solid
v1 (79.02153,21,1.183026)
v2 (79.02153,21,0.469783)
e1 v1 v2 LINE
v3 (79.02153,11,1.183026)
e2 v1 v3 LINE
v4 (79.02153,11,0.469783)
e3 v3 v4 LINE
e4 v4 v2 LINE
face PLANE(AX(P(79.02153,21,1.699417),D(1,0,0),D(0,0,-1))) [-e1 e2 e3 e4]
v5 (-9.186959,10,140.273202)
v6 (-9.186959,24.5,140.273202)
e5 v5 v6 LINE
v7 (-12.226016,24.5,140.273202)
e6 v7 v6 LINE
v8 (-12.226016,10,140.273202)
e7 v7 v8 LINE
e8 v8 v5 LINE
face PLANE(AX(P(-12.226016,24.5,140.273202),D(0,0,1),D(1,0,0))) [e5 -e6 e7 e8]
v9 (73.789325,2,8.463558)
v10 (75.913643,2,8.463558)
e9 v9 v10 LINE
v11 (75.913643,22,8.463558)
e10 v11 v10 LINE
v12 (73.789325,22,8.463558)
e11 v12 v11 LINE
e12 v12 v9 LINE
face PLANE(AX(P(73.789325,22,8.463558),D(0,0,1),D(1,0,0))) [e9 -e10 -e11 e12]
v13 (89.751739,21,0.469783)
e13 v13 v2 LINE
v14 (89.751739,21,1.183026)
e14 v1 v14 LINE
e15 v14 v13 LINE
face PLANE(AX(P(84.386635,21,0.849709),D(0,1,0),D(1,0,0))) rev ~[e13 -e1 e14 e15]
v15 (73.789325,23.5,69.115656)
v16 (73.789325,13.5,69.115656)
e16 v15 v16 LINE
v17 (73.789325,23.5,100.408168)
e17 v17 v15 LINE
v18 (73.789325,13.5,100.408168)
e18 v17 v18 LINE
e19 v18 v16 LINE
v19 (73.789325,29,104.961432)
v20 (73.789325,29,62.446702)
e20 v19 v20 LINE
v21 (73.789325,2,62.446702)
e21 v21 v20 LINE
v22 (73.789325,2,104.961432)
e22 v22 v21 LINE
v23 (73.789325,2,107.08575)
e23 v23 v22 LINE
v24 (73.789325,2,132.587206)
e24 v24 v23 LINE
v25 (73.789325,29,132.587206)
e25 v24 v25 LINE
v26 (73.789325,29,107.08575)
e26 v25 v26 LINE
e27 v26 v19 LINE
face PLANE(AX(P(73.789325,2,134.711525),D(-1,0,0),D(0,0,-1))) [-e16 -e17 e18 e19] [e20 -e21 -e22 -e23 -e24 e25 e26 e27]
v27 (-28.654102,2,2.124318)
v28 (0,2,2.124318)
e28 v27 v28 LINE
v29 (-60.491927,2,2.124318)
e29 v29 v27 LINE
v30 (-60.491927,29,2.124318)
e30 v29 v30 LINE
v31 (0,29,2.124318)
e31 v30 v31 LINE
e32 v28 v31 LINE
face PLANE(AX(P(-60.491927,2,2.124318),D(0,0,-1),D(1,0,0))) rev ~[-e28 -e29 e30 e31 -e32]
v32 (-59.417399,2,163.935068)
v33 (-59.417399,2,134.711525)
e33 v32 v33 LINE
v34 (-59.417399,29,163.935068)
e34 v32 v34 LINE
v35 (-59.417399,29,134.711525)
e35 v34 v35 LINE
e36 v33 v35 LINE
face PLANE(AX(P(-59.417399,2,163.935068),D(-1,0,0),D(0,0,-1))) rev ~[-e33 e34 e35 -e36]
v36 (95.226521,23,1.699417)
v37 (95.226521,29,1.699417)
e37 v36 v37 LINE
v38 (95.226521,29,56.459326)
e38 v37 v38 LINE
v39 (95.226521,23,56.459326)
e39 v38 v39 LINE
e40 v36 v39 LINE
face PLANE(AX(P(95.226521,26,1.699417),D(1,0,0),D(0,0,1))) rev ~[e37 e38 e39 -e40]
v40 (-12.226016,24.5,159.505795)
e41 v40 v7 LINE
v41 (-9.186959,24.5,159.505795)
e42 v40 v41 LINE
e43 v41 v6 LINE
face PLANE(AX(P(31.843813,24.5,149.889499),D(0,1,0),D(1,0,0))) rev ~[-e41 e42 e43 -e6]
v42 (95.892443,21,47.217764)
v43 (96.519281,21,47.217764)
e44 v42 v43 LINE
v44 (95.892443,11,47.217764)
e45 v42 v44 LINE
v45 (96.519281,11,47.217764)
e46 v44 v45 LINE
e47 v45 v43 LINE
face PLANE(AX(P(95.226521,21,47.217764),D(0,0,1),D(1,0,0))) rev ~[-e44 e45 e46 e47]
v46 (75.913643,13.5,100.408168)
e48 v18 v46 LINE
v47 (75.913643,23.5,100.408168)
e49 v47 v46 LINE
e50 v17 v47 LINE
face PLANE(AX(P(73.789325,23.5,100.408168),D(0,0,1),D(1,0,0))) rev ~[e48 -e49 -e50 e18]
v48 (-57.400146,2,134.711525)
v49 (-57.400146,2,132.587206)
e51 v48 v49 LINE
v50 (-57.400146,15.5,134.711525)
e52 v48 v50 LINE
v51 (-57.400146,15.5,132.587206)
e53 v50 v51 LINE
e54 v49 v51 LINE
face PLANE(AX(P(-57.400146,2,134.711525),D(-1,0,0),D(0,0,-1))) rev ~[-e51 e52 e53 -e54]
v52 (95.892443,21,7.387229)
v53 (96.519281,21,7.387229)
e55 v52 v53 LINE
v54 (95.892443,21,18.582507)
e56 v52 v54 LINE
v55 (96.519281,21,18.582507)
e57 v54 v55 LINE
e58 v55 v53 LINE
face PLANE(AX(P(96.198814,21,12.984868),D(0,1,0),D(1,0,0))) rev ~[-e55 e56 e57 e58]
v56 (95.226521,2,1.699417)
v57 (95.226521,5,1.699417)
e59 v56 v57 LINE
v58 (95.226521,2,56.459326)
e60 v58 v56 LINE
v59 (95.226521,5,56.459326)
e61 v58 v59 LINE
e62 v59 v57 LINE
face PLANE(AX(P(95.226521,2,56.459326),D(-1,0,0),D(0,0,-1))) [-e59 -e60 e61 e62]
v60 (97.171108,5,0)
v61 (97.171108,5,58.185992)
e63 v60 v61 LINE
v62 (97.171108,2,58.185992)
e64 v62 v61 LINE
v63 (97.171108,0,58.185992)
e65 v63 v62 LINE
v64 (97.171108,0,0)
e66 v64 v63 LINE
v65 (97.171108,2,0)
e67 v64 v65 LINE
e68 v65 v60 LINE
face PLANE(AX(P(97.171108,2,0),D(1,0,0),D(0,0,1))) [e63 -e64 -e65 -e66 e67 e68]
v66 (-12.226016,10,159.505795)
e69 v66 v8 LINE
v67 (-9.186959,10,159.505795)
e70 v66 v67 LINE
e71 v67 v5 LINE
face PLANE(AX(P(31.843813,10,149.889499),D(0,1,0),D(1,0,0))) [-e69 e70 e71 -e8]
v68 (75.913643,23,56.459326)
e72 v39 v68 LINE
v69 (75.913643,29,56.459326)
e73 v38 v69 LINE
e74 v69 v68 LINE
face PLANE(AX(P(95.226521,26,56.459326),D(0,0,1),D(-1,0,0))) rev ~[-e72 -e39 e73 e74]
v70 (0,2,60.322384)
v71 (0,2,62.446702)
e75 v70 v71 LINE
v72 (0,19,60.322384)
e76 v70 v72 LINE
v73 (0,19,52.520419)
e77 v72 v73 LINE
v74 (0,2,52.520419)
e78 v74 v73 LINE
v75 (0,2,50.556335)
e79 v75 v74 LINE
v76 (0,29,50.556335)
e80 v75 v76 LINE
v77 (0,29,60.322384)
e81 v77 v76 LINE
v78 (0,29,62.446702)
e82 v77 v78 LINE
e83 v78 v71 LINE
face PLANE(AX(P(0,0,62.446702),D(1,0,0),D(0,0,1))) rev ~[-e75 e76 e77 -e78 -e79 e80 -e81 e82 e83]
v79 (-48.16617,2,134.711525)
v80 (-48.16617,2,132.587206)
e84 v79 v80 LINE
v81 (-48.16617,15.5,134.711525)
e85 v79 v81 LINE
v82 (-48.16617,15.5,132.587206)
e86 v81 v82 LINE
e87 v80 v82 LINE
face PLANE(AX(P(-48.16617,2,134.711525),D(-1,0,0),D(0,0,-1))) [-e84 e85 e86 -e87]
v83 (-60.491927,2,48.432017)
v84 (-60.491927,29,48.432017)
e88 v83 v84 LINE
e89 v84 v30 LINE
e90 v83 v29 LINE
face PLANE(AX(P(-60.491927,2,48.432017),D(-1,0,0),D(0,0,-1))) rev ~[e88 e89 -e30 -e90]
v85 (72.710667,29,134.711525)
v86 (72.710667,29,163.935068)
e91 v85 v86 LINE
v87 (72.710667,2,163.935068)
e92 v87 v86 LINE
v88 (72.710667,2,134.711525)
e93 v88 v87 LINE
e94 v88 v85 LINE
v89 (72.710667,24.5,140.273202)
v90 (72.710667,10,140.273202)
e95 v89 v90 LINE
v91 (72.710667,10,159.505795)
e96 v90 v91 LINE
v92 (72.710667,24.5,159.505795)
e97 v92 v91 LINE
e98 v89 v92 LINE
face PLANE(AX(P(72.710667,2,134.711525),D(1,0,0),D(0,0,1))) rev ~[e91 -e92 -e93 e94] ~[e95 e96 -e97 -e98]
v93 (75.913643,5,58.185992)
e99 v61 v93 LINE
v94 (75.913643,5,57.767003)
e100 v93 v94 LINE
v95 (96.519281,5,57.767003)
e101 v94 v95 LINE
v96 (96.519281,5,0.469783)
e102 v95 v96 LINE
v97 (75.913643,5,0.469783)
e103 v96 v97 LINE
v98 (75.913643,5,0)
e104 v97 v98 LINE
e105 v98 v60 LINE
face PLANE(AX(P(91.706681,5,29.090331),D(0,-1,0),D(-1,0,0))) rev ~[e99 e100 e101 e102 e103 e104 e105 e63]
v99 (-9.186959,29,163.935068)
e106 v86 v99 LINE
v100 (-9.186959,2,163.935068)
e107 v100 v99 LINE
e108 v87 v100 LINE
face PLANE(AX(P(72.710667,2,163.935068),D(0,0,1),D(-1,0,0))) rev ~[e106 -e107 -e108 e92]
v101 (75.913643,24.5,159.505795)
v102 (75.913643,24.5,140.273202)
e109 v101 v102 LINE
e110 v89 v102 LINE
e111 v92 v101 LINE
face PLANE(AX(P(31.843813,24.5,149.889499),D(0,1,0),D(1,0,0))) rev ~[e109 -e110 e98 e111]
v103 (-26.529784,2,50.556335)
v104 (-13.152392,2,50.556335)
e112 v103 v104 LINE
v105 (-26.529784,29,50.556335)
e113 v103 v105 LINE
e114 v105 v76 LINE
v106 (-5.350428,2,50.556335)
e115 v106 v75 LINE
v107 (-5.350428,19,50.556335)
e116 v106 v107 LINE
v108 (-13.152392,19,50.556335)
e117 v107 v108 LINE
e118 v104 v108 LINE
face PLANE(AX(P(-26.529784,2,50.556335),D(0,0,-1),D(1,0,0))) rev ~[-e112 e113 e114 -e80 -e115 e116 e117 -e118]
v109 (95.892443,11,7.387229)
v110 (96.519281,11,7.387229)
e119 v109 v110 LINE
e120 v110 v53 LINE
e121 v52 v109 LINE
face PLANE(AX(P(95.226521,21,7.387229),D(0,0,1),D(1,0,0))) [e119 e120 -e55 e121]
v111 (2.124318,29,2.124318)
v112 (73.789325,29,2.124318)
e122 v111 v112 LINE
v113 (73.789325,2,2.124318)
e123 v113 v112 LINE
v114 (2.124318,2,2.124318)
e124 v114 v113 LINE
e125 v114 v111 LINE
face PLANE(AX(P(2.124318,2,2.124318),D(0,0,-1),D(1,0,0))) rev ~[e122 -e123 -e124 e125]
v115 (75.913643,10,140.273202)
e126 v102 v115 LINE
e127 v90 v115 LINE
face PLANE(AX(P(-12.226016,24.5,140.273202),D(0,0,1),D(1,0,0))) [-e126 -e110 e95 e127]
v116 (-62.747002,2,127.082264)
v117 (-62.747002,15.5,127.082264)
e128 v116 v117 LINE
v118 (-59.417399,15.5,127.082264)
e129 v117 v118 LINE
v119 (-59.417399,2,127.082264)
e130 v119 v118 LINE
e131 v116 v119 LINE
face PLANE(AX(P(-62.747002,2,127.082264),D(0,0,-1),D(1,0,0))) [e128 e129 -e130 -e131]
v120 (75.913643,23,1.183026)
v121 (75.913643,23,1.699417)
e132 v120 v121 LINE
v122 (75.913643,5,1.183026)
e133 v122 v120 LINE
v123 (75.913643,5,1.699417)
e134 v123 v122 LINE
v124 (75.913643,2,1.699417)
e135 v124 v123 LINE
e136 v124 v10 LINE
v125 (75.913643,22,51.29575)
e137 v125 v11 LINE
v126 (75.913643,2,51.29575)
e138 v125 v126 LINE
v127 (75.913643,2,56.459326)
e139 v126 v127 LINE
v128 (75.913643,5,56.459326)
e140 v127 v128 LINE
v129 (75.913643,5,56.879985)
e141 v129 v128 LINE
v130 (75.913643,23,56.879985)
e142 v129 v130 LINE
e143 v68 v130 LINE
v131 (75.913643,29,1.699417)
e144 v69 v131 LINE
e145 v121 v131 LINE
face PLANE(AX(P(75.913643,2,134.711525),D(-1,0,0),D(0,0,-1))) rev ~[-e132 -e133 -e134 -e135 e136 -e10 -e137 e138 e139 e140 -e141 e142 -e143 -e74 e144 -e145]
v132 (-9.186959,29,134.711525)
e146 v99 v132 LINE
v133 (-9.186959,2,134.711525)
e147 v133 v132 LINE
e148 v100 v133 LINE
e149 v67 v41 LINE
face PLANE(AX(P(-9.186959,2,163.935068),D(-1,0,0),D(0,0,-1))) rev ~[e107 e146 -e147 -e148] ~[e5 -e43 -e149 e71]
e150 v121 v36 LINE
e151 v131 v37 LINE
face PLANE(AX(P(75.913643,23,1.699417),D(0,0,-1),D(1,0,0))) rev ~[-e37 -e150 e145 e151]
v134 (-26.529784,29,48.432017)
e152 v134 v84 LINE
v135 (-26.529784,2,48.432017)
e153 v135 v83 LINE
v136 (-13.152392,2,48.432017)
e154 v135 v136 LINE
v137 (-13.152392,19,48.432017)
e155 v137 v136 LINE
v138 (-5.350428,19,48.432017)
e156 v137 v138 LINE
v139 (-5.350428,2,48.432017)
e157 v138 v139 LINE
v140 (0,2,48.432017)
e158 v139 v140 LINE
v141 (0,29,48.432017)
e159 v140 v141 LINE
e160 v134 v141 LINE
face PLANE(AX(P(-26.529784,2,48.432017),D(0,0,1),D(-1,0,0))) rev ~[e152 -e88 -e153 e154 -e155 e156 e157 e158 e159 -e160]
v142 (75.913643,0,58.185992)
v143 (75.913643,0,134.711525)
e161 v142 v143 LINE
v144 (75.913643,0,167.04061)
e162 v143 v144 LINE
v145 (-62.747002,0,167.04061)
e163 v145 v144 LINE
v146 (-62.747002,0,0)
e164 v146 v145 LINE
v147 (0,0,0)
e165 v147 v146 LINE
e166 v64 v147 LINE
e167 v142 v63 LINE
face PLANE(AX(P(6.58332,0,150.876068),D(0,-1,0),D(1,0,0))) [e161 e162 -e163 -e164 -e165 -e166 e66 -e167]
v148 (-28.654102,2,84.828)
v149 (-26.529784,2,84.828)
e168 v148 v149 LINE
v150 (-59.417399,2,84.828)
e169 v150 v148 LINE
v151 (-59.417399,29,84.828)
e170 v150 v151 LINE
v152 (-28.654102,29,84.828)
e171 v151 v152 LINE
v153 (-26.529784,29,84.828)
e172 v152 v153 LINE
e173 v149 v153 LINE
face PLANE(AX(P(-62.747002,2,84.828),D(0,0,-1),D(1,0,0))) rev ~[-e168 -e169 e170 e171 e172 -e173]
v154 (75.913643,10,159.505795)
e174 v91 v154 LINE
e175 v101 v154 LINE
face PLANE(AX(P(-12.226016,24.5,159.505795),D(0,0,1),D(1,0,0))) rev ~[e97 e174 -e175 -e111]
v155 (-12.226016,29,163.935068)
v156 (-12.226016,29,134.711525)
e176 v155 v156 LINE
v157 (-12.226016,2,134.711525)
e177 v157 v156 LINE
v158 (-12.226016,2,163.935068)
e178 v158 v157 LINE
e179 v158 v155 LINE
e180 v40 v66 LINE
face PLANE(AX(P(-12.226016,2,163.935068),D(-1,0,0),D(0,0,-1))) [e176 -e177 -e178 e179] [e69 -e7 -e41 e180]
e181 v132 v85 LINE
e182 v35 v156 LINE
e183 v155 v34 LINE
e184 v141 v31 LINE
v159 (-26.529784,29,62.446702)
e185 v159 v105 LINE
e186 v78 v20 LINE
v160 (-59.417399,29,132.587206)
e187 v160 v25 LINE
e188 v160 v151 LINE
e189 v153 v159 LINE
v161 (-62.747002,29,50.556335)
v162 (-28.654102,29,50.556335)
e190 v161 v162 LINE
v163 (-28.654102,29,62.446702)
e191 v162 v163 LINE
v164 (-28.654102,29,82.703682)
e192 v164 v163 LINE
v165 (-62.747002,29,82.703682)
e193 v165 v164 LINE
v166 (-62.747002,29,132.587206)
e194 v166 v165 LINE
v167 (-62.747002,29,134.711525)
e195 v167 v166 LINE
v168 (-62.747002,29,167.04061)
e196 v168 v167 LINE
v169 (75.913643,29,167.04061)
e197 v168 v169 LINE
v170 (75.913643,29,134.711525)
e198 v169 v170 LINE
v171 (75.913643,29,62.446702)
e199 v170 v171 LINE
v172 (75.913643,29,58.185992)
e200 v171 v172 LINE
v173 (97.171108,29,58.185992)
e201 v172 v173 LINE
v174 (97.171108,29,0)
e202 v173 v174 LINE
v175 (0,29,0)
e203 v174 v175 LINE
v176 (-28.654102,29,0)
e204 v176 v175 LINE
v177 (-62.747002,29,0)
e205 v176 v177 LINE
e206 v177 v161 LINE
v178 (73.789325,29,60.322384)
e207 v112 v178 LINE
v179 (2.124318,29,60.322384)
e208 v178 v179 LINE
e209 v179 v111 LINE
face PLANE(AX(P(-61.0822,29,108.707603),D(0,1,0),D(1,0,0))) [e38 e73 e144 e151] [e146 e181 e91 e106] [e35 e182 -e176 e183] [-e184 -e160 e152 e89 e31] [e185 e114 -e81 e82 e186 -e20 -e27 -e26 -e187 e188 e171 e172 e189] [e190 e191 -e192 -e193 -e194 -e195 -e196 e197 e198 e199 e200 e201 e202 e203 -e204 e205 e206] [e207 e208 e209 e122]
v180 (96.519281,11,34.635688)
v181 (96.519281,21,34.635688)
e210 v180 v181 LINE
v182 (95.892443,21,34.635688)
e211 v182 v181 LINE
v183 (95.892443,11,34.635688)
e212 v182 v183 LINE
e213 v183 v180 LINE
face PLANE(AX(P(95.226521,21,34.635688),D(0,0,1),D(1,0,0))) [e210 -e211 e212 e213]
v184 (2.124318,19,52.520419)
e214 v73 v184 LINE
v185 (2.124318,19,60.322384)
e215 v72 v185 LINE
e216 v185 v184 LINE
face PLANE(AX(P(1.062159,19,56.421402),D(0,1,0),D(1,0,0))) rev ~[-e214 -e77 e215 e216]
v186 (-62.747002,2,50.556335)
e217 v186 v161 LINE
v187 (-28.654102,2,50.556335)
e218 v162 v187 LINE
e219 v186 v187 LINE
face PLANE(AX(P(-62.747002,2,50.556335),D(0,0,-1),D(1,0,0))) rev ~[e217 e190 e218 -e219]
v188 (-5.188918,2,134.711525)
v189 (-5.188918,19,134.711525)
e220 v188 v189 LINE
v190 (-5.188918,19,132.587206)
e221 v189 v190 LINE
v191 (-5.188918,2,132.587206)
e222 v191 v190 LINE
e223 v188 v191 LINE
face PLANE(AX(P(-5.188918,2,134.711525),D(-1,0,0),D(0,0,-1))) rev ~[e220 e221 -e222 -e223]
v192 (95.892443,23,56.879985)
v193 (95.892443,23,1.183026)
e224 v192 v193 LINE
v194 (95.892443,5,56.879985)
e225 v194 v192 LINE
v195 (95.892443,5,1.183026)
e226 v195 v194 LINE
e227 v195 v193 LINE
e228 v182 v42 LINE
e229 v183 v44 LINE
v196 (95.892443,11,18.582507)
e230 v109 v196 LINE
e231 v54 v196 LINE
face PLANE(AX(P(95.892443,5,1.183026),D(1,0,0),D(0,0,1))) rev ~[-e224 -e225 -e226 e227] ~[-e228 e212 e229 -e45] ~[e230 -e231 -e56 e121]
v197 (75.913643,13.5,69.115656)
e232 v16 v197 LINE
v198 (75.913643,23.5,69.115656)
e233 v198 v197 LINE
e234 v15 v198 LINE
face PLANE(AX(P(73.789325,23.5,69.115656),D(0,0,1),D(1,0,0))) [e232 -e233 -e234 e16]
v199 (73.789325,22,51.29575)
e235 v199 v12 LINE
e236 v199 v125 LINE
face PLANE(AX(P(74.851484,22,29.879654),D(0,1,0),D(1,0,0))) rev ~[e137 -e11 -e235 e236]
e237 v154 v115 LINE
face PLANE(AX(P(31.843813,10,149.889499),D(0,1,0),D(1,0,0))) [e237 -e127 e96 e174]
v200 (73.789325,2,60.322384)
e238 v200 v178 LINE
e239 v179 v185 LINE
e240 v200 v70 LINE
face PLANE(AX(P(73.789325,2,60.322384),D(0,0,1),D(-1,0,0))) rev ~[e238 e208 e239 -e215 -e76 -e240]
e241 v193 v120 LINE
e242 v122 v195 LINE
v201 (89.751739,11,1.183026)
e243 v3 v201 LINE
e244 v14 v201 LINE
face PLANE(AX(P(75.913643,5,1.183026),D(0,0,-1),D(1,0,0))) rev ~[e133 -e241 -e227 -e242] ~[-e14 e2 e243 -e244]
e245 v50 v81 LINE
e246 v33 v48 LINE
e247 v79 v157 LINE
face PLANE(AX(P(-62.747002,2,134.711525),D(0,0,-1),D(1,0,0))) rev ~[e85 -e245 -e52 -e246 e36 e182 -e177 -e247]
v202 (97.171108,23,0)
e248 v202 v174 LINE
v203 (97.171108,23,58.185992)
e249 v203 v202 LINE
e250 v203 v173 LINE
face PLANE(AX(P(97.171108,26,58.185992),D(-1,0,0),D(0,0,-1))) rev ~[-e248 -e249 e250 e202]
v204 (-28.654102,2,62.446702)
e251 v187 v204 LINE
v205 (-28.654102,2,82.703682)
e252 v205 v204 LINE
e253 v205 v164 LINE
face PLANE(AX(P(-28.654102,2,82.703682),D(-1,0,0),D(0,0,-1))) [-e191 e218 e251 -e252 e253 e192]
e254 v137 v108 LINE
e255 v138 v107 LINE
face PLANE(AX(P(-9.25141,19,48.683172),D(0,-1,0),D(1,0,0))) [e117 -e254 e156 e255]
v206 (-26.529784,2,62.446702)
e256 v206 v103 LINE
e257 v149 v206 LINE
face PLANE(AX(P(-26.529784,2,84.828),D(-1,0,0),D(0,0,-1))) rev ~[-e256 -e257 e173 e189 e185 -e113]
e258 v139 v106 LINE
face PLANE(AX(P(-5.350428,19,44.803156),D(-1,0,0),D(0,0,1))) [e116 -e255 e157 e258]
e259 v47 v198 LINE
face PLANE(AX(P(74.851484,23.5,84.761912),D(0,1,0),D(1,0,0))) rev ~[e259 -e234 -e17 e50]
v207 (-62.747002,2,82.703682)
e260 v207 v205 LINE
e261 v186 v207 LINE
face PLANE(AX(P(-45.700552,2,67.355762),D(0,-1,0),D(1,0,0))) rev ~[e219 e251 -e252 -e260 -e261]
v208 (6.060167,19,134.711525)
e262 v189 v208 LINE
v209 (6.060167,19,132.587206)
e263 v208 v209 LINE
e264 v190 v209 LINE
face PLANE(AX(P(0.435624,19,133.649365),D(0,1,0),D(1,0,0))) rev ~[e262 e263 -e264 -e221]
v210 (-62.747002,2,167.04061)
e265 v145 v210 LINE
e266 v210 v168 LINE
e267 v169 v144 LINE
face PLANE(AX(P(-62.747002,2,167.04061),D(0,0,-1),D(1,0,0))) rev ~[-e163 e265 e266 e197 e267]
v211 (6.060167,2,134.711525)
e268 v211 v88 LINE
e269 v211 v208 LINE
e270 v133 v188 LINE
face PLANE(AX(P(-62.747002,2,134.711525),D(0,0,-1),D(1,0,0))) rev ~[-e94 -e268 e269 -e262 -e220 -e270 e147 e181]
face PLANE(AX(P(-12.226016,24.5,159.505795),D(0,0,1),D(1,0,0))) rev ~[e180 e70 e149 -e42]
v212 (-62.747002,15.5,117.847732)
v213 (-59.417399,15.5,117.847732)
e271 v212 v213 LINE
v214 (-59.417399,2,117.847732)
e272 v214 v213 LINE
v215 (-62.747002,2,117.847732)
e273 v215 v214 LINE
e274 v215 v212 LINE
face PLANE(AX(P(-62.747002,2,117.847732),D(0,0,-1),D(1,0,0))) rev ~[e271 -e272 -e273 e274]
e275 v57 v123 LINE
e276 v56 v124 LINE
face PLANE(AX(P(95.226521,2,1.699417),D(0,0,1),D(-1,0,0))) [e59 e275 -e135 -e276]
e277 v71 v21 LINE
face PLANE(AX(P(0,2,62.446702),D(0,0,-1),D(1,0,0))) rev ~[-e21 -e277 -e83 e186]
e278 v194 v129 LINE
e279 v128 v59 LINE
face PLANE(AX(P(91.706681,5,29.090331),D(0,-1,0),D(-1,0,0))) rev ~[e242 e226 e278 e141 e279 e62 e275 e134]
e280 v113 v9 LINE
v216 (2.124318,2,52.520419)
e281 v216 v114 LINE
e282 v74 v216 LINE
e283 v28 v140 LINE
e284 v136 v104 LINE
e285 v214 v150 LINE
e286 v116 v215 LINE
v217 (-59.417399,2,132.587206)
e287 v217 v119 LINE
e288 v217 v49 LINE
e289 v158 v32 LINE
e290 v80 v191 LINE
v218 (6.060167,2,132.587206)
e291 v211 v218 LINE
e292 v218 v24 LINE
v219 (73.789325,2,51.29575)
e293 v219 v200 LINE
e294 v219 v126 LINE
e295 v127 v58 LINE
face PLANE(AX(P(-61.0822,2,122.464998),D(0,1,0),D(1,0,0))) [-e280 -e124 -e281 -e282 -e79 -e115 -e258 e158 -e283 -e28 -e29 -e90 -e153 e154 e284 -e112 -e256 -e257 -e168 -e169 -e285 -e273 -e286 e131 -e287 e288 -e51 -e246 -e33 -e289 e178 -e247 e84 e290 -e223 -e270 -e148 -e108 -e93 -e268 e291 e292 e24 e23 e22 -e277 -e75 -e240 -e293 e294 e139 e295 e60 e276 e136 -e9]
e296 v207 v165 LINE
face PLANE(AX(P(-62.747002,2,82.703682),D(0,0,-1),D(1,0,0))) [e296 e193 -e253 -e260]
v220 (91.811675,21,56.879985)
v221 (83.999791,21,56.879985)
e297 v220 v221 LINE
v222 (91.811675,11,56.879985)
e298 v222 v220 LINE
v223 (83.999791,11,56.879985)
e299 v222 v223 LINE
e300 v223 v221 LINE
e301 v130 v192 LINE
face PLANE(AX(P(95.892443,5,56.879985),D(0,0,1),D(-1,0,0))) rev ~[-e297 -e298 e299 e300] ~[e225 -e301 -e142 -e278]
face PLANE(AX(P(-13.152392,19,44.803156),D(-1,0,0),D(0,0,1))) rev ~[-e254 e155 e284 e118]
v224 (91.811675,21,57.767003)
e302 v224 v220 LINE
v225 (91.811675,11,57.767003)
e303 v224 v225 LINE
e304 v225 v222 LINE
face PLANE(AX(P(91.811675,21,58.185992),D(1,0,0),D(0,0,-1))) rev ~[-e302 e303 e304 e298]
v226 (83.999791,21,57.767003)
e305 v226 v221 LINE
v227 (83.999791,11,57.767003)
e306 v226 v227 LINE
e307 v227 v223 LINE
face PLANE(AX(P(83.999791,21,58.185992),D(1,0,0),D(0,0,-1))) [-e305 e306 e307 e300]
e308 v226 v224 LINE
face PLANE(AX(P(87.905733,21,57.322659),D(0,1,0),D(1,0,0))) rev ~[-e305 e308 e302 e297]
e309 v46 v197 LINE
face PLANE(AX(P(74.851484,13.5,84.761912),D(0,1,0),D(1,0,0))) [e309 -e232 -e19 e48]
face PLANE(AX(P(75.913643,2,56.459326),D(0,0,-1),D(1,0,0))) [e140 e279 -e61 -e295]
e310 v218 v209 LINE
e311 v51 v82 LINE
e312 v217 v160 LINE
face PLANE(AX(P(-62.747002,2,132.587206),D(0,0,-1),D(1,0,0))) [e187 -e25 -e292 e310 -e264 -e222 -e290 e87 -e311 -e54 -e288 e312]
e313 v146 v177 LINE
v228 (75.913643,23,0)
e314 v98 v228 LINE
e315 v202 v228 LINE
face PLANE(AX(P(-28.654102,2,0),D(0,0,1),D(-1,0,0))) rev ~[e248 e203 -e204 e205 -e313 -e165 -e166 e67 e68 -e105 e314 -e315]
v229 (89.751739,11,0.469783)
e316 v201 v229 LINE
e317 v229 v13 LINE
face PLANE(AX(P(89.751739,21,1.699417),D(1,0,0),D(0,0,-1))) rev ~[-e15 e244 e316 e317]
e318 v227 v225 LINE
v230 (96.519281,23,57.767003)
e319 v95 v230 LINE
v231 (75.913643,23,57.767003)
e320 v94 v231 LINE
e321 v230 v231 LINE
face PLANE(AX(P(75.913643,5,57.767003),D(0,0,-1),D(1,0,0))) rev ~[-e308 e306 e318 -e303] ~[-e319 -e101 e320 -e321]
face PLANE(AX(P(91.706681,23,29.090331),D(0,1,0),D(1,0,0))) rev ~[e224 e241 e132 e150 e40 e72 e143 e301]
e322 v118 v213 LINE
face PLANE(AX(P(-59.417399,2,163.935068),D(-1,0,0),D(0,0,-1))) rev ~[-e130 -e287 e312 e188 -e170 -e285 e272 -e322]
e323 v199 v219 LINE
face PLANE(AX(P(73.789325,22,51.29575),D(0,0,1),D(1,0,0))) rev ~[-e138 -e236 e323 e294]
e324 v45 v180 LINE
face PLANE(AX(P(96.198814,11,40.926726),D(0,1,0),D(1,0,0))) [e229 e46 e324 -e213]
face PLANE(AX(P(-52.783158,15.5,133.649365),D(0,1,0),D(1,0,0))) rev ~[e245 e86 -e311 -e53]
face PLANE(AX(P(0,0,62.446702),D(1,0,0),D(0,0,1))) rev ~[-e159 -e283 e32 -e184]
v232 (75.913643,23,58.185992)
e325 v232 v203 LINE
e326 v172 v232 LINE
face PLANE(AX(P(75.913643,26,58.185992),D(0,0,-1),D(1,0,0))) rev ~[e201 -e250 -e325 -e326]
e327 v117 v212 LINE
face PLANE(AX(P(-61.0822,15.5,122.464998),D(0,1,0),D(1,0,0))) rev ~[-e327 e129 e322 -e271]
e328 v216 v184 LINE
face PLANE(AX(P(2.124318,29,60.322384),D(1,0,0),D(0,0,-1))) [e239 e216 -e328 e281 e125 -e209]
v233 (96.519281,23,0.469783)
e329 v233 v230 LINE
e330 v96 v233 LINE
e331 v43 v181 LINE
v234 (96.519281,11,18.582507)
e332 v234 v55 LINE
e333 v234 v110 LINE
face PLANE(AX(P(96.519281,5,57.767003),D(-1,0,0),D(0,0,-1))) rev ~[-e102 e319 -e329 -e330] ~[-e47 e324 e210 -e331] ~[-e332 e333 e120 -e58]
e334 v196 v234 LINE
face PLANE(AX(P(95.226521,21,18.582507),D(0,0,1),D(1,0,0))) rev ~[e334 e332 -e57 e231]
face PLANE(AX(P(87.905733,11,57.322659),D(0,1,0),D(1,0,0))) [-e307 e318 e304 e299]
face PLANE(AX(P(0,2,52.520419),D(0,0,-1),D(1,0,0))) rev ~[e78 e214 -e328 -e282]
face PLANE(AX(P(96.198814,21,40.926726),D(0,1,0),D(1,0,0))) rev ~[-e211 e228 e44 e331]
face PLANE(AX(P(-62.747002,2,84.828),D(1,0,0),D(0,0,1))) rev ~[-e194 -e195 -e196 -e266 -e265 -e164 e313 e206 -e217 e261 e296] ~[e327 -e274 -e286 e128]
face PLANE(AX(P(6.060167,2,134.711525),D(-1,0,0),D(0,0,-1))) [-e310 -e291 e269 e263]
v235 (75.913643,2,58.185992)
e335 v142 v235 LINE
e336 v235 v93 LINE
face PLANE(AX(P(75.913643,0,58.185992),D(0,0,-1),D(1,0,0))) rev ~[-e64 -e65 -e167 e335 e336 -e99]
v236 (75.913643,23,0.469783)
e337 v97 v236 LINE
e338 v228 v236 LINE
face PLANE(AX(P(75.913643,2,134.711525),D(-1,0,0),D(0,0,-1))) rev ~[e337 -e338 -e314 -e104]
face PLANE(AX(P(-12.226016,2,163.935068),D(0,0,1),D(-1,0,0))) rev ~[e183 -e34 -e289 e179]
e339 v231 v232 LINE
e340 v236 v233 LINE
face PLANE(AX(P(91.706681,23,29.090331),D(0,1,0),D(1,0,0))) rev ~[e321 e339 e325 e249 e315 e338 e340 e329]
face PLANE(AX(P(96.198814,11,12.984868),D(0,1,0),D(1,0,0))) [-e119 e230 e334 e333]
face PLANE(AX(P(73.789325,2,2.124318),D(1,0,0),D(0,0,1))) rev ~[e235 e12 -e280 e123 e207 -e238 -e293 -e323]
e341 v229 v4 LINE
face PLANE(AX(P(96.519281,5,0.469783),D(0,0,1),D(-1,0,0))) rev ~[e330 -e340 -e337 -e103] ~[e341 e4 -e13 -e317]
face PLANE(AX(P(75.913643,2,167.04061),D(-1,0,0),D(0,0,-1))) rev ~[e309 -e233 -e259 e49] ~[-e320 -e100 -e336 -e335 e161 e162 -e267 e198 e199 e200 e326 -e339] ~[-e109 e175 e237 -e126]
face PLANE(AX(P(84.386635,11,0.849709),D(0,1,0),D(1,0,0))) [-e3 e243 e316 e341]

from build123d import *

# Parameters (mm, degrees)
SKETCH_1_W          = 75.913642727
SKETCH_1_H          = 62.446702165
EXTRUDE_1_DEPTH     = 2
EXTRUDE_2_DEPTH     = 27
CUT_EXTRUDE_START   = -7
SKETCH_3_W          = 2.124318213
SKETCH_3_H          = 42.832192033
CUT_EXTRUDE_1_DEPTH = 20
SKETCH_4_W          = 2.124318213
SKETCH_4_H          = 7.801964605
EXTRUDE_3_DEPTH     = 10
SKETCH_5_W          = 75.913642727
SKETCH_5_H          = 72.264822367
EXTRUDE_4_DEPTH     = 2
SKETCH_6_W          = 2.124318213
SKETCH_6_H          = 74.38914058
EXTRUDE_5_DEPTH     = 27
SKETCH_7_W          = 21.257465039
SKETCH_7_H          = 58.185991571
EXTRUDE_6_DEPTH     = 2
EXTRUDE_7_DEPTH     = 3
EXTRUDE_START       = 18
EXTRUDE_8_DEPTH     = 3
EXTRUDE_9_DEPTH     = 3
EXTRUDE_10_DEPTH    = 21
CUT_EXTRUDE_START_2 = -8
SKETCH_12_W         = 10.730208879
SKETCH_12_H         = 1.699417316
SKETCH_12_W_2       = 1.944586737
SKETCH_12_H_2       = 11.195277622
SKETCH_12_H_3       = 12.58207638
SKETCH_12_W_3       = 7.811884166
SKETCH_12_H_4       = 1.726665101
CUT_EXTRUDE_2_DEPTH = 10
CUT_EXTRUDE_START_3 = -5.5
SKETCH_13_W         = 2.124318213
SKETCH_13_H         = 31.292512657
CUT_EXTRUDE_3_DEPTH = 10
SKETCH_14_W         = 73.789324514
SKETCH_14_H         = 2.124318213
EXTRUDE_11_DEPTH    = 27
SKETCH_15_W         = 28.654102471
SKETCH_15_H         = 134.711524532
EXTRUDE_12_DEPTH    = 2
SKETCH_16_W         = 28.654102471
SKETCH_16_H         = 2.124318213
SKETCH_16_W_2       = 26.529784258
EXTRUDE_13_DEPTH    = 27
SKETCH_17_W         = 34.092899776
SKETCH_17_H         = 134.711524532
EXTRUDE_14_DEPTH    = 2
SKETCH_18_W         = 2.255075416
SKETCH_18_H         = 46.30769884
EXTRUDE_15_DEPTH    = 27
SKETCH_19_W         = 7.801964605
SKETCH_19_H         = 7.760030918
CUT_EXTRUDE_4_DEPTH = 17
SKETCH_20_W         = 2.124318213
SKETCH_20_H         = 22.381297739
SKETCH_20_W_2       = 34.092899776
SKETCH_20_H_2       = 2.124318213
EXTRUDE_16_DEPTH    = 27
SKETCH_22_W         = 138.660644974
SKETCH_22_H         = 32.329085963
EXTRUDE_17_DEPTH    = 2
SKETCH_23_W         = 136.536326761
SKETCH_23_H         = 2.124318213
EXTRUDE_18_DEPTH    = 27
CUT_EXTRUDE_START_4 = -27
SKETCH_24_W         = 73.789324514
SKETCH_24_H         = 2.124318213
CUT_EXTRUDE_5_DEPTH = 27
SKETCH_25_W         = 3.039057747
SKETCH_25_H         = 29.223543377
EXTRUDE_19_DEPTH    = 27
CUT_EXTRUDE_START_5 = -4.5
SKETCH_26_W         = 88.139659128
SKETCH_26_H         = 19.232592482
CUT_EXTRUDE_6_DEPTH = 14.5
SKETCH_27_W         = 11.249085033
SKETCH_27_H         = 2.124318213
CUT_EXTRUDE_7_DEPTH = 17
SKETCH_28_W         = 3.329603522
SKETCH_28_H         = 47.759206415
SKETCH_28_H_2       = 31.34786159
EXTRUDE_20_DEPTH    = 27
SKETCH_29_W         = 9.233976249
SKETCH_29_H         = 2.124318213
SKETCH_29_W_2       = 3.329603522
SKETCH_29_H_2       = 9.234531485
CUT_EXTRUDE_8_DEPTH = 13.5


with BuildPart() as part:
    # 草图1 → 凸台-拉伸1 (new body)
    with BuildSketch(Plane(origin=(0, 0, 0), x_dir=(1, 0, 0), z_dir=(0, 1, 0))):
        with Locations((37.956821364, -31.223351083)):
            Rectangle(SKETCH_1_W, SKETCH_1_H)
    extrude(amount=EXTRUDE_1_DEPTH)

    # 草图2 → 凸台-拉伸2 (add)
    with BuildSketch(Plane(origin=(0, 2, 0), x_dir=(1, 0, 0), z_dir=(0, 1, 0))):
        Polygon((0, -62.446702165), (75.913642727, -62.446702165), (75.913642727, 0), (0, 0), (0, -52.520419347), (2.124318213, -52.520419347), (2.124318213, -2.124318213), (73.789324514, -2.124318213), (73.789324514, -60.322383952), (68.344319435, -60.322383952), (0, -60.322383952), align=None)
    extrude(amount=EXTRUDE_2_DEPTH)

    # 草图3 → 切除-拉伸1 (cut)
    with BuildSketch(Plane(origin=(0, 29, 0), x_dir=(1, 0, 0), z_dir=(0, 1, 0)).offset(CUT_EXTRUDE_START)):
        with Locations((74.851483621, -29.879654035)):
            Rectangle(SKETCH_3_W, SKETCH_3_H)
    extrude(amount=-CUT_EXTRUDE_1_DEPTH, mode=Mode.SUBTRACT)

    # 草图4 → 凸台-拉伸3 (add)
    with BuildSketch(Plane(origin=(0, 29, 0), x_dir=(1, 0, 0), z_dir=(0, 1, 0))):
        with Locations((1.062159107, -56.421401649)):
            Rectangle(SKETCH_4_W, SKETCH_4_H)
    extrude(amount=-EXTRUDE_3_DEPTH)

    # 草图5 → 凸台-拉伸4 (add)
    with BuildSketch(Plane.XZ):
        with Locations((37.956821364, 98.579113349)):
            Rectangle(SKETCH_5_W, SKETCH_5_H)
    extrude(amount=-EXTRUDE_4_DEPTH)

    # 草图6 → 凸台-拉伸5 (add)
    with BuildSketch(Plane(origin=(0, 2, 0), x_dir=(1, 0, 0), z_dir=(0, 1, 0))):
        with Locations((74.851483621, -97.516954242)):
            Rectangle(SKETCH_6_W, SKETCH_6_H)
    extrude(amount=EXTRUDE_5_DEPTH)

    # 草图7 → 凸台-拉伸6 (add)
    with BuildSketch(Plane.XZ):
        with Locations((86.542375247, 29.092995786)):
            Rectangle(SKETCH_7_W, SKETCH_7_H)
    extrude(amount=-EXTRUDE_6_DEPTH)

    # 草图8 → 凸台-拉伸7 (add)
    with BuildSketch(Plane(origin=(0, 2, 0), x_dir=(1, 0, 0), z_dir=(0, 1, 0))):
        Polygon((75.913642727, -58.185991571), (75.913642727, -56.45932647), (95.226521029, -56.45932647), (95.226521029, -1.699417316), (75.913642727, -1.699417316), (75.913642727, 0), (97.171107766, 0), (97.171107766, -58.185991571), align=None)
    extrude(amount=EXTRUDE_7_DEPTH)

    # 草图9 → 凸台-拉伸8 (add)
    with BuildSketch(Plane(origin=(0, 5, 0), x_dir=(1, 0, 0), z_dir=(0, 1, 0)).offset(EXTRUDE_START)):
        Polygon((75.913642727, -58.185991571), (97.171107766, -58.185991571), (97.171107766, 0), (75.913642727, 0), (75.913642727, -1.699417316), (95.226521029, -1.699417316), (95.226521029, -56.45932647), (75.913642727, -56.45932647), align=None)
    extrude(amount=EXTRUDE_8_DEPTH)

    # 草图10 → 凸台-拉伸9 (add)
    with BuildSketch(Plane(origin=(0, 26, 0), x_dir=(1, 0, 0), z_dir=(0, 1, 0))):
        Polygon((75.913642727, -56.45932647), (75.913642727, -58.185991571), (97.171107766, -58.185991571), (97.171107766, 0), (75.913642727, 0), (75.913642727, -1.699417316), (95.226521029, -1.699417316), (95.226521029, -56.45932647), align=None)
    extrude(amount=EXTRUDE_9_DEPTH)

    # 草图11 → 凸台-拉伸10 (add)
    with BuildSketch(Plane(origin=(0, 5, 0), x_dir=(1, 0, 0), z_dir=(0, 1, 0))):
        Polygon((75.913642727, -56.879985146), (75.913642727, -57.767002905), (96.519280812, -57.767002905), (96.519280812, -0.469783288), (75.913642727, -0.469783288), (75.913642727, -1.183025895), (95.892442802, -1.183025895), (95.892442802, -56.879985146), align=None)
    extrude(amount=EXTRUDE_10_DEPTH)

    # 草图12 → 切除-拉伸2 (cut)
    with BuildSketch(Plane(origin=(0, 29, 0), x_dir=(1, 0, 0), z_dir=(0, 1, 0)).offset(CUT_EXTRUDE_START_2)):
        with Locations((84.386634544, -0.849708658)):
            Rectangle(SKETCH_12_W, SKETCH_12_H)
        with Locations((96.198814398, -12.98486795)):
            Rectangle(SKETCH_12_W_2, SKETCH_12_H_2)
        with Locations((96.198814398, -40.926726277)):
            Rectangle(SKETCH_12_W_2, SKETCH_12_H_3)
        with Locations((87.905733133, -57.32265902)):
            Rectangle(SKETCH_12_W_3, SKETCH_12_H_4)
    extrude(amount=-CUT_EXTRUDE_2_DEPTH, mode=Mode.SUBTRACT)

    # 草图13 → 切除-拉伸3 (cut)
    with BuildSketch(Plane(origin=(0, 29, 0), x_dir=(1, 0, 0), z_dir=(0, 1, 0)).offset(CUT_EXTRUDE_START_3)):
        with Locations((74.851483621, -84.761912061)):
            Rectangle(SKETCH_13_W, SKETCH_13_H)
    extrude(amount=-CUT_EXTRUDE_3_DEPTH, mode=Mode.SUBTRACT)

    # 草图14 → 凸台-拉伸11 (add)
    with BuildSketch(Plane(origin=(0, 2, 0), x_dir=(1, 0, 0), z_dir=(0, 1, 0))):
        with Locations((36.894662257, -106.023590927)):
            Rectangle(SKETCH_14_W, SKETCH_14_H)
    extrude(amount=EXTRUDE_11_DEPTH)

    # 草图15 → 凸台-拉伸12 (add)
    with BuildSketch(Plane.XZ):
        with Locations((-14.327051236, 67.355762266)):
            Rectangle(SKETCH_15_W, SKETCH_15_H)
    extrude(amount=-EXTRUDE_12_DEPTH)

    # 草图16 → 凸台-拉伸13 (add)
    with BuildSketch(Plane(origin=(0, 2, 0), x_dir=(1, 0, 0), z_dir=(0, 1, 0))):
        with Locations((-14.327051236, -1.062159107)):
            Rectangle(SKETCH_16_W, SKETCH_16_H)
        with Locations((-13.264892129, -49.49417616)):
            Rectangle(SKETCH_16_W_2, SKETCH_16_H)
        Polygon((-28.654102471, -62.446702165), (-26.529784258, -62.446702165), (-26.529784258, -50.556335266), (-26.529784258, -48.432017053), (-28.654102471, -48.432017053), align=None)
    extrude(amount=EXTRUDE_13_DEPTH)

    # 草图17 → 凸台-拉伸14 (add)
    with BuildSketch(Plane.XZ):
        with Locations((-45.700552359, 67.355762266)):
            Rectangle(SKETCH_17_W, SKETCH_17_H)
    extrude(amount=-EXTRUDE_14_DEPTH)

    # 草图18 → 凸台-拉伸15 (add)
    with BuildSketch(Plane(origin=(0, 2, 0), x_dir=(1, 0, 0), z_dir=(0, 1, 0))):
        Polygon((-60.491926831, -2.124318213), (-28.654102471, -2.124318213), (-28.654102471, 0), (-62.747002247, 0), (-62.747002247, -2.124318213), align=None)
        with Locations((-61.619464539, -25.278167633)):
            Rectangle(SKETCH_18_W, SKETCH_18_H)
        Polygon((-26.529784258, -48.432017053), (-60.491926831, -48.432017053), (-62.747002247, -48.432017053), (-62.747002247, -50.556335266), (-26.529784258, -50.556335266), align=None)
    extrude(amount=EXTRUDE_15_DEPTH)

    # 草图19 → 切除-拉伸4 (cut)
    with BuildSketch(Plane.XZ.offset(-19)):
        with Locations((-9.25141008, 48.683171807)):
            Rectangle(SKETCH_19_W, SKETCH_19_H)
    extrude(amount=CUT_EXTRUDE_4_DEPTH, mode=Mode.SUBTRACT)

    # 草图20 → 凸台-拉伸16 (add)
    with BuildSketch(Plane(origin=(0, 2, 0), x_dir=(1, 0, 0), z_dir=(0, 1, 0))):
        with Locations((-27.591943365, -73.637351034)):
            Rectangle(SKETCH_20_W, SKETCH_20_H)
        with Locations((-45.700552359, -83.765840798)):
            Rectangle(SKETCH_20_W_2, SKETCH_20_H_2)
    extrude(amount=EXTRUDE_16_DEPTH)

    # 草图22 → 凸台-拉伸17 (add)
    with BuildSketch(Plane.XZ):
        with Locations((6.58332024, 150.876067514)):
            Rectangle(SKETCH_22_W, SKETCH_22_H)
    extrude(amount=-EXTRUDE_17_DEPTH)

    # 草图23 → 凸台-拉伸18 (add)
    with BuildSketch(Plane(origin=(0, 2, 0), x_dir=(1, 0, 0), z_dir=(0, 1, 0))):
        with Locations((5.521161133, -133.649365426)):
            Rectangle(SKETCH_23_W, SKETCH_23_H)
    extrude(amount=EXTRUDE_18_DEPTH)

    # 草图24 → 切除-拉伸5 (cut)
    with BuildSketch(Plane(origin=(0, 29, 0), x_dir=(1, 0, 0), z_dir=(0, 1, 0)).offset(CUT_EXTRUDE_START_4)):
        with Locations((36.894662257, -106.023590927)):
            Rectangle(SKETCH_24_W, SKETCH_24_H)
    extrude(amount=CUT_EXTRUDE_5_DEPTH, mode=Mode.SUBTRACT)

    # 草图25 → 凸台-拉伸19 (add)
    with BuildSketch(Plane(origin=(0, 2, 0), x_dir=(1, 0, 0), z_dir=(0, 1, 0))):
        Polygon((75.913642727, -167.040610495), (75.913642727, -134.711524532), (72.710667325, -134.711524532), (72.710667325, -163.935067909), (72.710667325, -167.040610495), align=None)
        Polygon((72.710667325, -167.040610495), (72.710667325, -163.935067909), (-9.186958654, -163.935067909), (-12.226016401, -163.935067909), (-62.747002247, -163.935067909), (-62.747002247, -167.040610495), align=None)
        with Locations((-10.706487528, -149.32329622)):
            Rectangle(SKETCH_25_W, SKETCH_25_H)
    extrude(amount=EXTRUDE_19_DEPTH)

    # 草图26 → 切除-拉伸6 (cut)
    with BuildSketch(Plane(origin=(0, 29, 0), x_dir=(1, 0, 0), z_dir=(0, 1, 0)).offset(CUT_EXTRUDE_START_5)):
        with Locations((31.843813163, -149.88949865)):
            Rectangle(SKETCH_26_W, SKETCH_26_H)
    extrude(amount=-CUT_EXTRUDE_6_DEPTH, mode=Mode.SUBTRACT)

    # 草图27 → 切除-拉伸7 (cut)
    with BuildSketch(Plane(origin=(0, 29, 0), x_dir=(1, 0, 0), z_dir=(0, 1, 0)).offset(CUT_EXTRUDE_START_4)):
        with Locations((0.435624052, -133.649365426)):
            Rectangle(SKETCH_27_W, SKETCH_27_H)
    extrude(amount=CUT_EXTRUDE_7_DEPTH, mode=Mode.SUBTRACT)

    # 草图28 → 凸台-拉伸20 (add)
    with BuildSketch(Plane(origin=(0, 2, 0), x_dir=(1, 0, 0), z_dir=(0, 1, 0))):
        with Locations((-61.082200486, -108.707603112)):
            Rectangle(SKETCH_28_W, SKETCH_28_H)
        with Locations((-61.082200486, -148.261137114)):
            Rectangle(SKETCH_28_W, SKETCH_28_H_2)
    extrude(amount=EXTRUDE_20_DEPTH)

    # 草图29 → 切除-拉伸8 (cut)
    with BuildSketch(Plane(origin=(0, 29, 0), x_dir=(1, 0, 0), z_dir=(0, 1, 0)).offset(CUT_EXTRUDE_START_4)):
        with Locations((-52.783158211, -133.649365426)):
            Rectangle(SKETCH_29_W, SKETCH_29_H)
        with Locations((-61.082200486, -122.464998081)):
            Rectangle(SKETCH_29_W_2, SKETCH_29_H_2)
    extrude(amount=CUT_EXTRUDE_8_DEPTH, mode=Mode.SUBTRACT)


solid = part.part
